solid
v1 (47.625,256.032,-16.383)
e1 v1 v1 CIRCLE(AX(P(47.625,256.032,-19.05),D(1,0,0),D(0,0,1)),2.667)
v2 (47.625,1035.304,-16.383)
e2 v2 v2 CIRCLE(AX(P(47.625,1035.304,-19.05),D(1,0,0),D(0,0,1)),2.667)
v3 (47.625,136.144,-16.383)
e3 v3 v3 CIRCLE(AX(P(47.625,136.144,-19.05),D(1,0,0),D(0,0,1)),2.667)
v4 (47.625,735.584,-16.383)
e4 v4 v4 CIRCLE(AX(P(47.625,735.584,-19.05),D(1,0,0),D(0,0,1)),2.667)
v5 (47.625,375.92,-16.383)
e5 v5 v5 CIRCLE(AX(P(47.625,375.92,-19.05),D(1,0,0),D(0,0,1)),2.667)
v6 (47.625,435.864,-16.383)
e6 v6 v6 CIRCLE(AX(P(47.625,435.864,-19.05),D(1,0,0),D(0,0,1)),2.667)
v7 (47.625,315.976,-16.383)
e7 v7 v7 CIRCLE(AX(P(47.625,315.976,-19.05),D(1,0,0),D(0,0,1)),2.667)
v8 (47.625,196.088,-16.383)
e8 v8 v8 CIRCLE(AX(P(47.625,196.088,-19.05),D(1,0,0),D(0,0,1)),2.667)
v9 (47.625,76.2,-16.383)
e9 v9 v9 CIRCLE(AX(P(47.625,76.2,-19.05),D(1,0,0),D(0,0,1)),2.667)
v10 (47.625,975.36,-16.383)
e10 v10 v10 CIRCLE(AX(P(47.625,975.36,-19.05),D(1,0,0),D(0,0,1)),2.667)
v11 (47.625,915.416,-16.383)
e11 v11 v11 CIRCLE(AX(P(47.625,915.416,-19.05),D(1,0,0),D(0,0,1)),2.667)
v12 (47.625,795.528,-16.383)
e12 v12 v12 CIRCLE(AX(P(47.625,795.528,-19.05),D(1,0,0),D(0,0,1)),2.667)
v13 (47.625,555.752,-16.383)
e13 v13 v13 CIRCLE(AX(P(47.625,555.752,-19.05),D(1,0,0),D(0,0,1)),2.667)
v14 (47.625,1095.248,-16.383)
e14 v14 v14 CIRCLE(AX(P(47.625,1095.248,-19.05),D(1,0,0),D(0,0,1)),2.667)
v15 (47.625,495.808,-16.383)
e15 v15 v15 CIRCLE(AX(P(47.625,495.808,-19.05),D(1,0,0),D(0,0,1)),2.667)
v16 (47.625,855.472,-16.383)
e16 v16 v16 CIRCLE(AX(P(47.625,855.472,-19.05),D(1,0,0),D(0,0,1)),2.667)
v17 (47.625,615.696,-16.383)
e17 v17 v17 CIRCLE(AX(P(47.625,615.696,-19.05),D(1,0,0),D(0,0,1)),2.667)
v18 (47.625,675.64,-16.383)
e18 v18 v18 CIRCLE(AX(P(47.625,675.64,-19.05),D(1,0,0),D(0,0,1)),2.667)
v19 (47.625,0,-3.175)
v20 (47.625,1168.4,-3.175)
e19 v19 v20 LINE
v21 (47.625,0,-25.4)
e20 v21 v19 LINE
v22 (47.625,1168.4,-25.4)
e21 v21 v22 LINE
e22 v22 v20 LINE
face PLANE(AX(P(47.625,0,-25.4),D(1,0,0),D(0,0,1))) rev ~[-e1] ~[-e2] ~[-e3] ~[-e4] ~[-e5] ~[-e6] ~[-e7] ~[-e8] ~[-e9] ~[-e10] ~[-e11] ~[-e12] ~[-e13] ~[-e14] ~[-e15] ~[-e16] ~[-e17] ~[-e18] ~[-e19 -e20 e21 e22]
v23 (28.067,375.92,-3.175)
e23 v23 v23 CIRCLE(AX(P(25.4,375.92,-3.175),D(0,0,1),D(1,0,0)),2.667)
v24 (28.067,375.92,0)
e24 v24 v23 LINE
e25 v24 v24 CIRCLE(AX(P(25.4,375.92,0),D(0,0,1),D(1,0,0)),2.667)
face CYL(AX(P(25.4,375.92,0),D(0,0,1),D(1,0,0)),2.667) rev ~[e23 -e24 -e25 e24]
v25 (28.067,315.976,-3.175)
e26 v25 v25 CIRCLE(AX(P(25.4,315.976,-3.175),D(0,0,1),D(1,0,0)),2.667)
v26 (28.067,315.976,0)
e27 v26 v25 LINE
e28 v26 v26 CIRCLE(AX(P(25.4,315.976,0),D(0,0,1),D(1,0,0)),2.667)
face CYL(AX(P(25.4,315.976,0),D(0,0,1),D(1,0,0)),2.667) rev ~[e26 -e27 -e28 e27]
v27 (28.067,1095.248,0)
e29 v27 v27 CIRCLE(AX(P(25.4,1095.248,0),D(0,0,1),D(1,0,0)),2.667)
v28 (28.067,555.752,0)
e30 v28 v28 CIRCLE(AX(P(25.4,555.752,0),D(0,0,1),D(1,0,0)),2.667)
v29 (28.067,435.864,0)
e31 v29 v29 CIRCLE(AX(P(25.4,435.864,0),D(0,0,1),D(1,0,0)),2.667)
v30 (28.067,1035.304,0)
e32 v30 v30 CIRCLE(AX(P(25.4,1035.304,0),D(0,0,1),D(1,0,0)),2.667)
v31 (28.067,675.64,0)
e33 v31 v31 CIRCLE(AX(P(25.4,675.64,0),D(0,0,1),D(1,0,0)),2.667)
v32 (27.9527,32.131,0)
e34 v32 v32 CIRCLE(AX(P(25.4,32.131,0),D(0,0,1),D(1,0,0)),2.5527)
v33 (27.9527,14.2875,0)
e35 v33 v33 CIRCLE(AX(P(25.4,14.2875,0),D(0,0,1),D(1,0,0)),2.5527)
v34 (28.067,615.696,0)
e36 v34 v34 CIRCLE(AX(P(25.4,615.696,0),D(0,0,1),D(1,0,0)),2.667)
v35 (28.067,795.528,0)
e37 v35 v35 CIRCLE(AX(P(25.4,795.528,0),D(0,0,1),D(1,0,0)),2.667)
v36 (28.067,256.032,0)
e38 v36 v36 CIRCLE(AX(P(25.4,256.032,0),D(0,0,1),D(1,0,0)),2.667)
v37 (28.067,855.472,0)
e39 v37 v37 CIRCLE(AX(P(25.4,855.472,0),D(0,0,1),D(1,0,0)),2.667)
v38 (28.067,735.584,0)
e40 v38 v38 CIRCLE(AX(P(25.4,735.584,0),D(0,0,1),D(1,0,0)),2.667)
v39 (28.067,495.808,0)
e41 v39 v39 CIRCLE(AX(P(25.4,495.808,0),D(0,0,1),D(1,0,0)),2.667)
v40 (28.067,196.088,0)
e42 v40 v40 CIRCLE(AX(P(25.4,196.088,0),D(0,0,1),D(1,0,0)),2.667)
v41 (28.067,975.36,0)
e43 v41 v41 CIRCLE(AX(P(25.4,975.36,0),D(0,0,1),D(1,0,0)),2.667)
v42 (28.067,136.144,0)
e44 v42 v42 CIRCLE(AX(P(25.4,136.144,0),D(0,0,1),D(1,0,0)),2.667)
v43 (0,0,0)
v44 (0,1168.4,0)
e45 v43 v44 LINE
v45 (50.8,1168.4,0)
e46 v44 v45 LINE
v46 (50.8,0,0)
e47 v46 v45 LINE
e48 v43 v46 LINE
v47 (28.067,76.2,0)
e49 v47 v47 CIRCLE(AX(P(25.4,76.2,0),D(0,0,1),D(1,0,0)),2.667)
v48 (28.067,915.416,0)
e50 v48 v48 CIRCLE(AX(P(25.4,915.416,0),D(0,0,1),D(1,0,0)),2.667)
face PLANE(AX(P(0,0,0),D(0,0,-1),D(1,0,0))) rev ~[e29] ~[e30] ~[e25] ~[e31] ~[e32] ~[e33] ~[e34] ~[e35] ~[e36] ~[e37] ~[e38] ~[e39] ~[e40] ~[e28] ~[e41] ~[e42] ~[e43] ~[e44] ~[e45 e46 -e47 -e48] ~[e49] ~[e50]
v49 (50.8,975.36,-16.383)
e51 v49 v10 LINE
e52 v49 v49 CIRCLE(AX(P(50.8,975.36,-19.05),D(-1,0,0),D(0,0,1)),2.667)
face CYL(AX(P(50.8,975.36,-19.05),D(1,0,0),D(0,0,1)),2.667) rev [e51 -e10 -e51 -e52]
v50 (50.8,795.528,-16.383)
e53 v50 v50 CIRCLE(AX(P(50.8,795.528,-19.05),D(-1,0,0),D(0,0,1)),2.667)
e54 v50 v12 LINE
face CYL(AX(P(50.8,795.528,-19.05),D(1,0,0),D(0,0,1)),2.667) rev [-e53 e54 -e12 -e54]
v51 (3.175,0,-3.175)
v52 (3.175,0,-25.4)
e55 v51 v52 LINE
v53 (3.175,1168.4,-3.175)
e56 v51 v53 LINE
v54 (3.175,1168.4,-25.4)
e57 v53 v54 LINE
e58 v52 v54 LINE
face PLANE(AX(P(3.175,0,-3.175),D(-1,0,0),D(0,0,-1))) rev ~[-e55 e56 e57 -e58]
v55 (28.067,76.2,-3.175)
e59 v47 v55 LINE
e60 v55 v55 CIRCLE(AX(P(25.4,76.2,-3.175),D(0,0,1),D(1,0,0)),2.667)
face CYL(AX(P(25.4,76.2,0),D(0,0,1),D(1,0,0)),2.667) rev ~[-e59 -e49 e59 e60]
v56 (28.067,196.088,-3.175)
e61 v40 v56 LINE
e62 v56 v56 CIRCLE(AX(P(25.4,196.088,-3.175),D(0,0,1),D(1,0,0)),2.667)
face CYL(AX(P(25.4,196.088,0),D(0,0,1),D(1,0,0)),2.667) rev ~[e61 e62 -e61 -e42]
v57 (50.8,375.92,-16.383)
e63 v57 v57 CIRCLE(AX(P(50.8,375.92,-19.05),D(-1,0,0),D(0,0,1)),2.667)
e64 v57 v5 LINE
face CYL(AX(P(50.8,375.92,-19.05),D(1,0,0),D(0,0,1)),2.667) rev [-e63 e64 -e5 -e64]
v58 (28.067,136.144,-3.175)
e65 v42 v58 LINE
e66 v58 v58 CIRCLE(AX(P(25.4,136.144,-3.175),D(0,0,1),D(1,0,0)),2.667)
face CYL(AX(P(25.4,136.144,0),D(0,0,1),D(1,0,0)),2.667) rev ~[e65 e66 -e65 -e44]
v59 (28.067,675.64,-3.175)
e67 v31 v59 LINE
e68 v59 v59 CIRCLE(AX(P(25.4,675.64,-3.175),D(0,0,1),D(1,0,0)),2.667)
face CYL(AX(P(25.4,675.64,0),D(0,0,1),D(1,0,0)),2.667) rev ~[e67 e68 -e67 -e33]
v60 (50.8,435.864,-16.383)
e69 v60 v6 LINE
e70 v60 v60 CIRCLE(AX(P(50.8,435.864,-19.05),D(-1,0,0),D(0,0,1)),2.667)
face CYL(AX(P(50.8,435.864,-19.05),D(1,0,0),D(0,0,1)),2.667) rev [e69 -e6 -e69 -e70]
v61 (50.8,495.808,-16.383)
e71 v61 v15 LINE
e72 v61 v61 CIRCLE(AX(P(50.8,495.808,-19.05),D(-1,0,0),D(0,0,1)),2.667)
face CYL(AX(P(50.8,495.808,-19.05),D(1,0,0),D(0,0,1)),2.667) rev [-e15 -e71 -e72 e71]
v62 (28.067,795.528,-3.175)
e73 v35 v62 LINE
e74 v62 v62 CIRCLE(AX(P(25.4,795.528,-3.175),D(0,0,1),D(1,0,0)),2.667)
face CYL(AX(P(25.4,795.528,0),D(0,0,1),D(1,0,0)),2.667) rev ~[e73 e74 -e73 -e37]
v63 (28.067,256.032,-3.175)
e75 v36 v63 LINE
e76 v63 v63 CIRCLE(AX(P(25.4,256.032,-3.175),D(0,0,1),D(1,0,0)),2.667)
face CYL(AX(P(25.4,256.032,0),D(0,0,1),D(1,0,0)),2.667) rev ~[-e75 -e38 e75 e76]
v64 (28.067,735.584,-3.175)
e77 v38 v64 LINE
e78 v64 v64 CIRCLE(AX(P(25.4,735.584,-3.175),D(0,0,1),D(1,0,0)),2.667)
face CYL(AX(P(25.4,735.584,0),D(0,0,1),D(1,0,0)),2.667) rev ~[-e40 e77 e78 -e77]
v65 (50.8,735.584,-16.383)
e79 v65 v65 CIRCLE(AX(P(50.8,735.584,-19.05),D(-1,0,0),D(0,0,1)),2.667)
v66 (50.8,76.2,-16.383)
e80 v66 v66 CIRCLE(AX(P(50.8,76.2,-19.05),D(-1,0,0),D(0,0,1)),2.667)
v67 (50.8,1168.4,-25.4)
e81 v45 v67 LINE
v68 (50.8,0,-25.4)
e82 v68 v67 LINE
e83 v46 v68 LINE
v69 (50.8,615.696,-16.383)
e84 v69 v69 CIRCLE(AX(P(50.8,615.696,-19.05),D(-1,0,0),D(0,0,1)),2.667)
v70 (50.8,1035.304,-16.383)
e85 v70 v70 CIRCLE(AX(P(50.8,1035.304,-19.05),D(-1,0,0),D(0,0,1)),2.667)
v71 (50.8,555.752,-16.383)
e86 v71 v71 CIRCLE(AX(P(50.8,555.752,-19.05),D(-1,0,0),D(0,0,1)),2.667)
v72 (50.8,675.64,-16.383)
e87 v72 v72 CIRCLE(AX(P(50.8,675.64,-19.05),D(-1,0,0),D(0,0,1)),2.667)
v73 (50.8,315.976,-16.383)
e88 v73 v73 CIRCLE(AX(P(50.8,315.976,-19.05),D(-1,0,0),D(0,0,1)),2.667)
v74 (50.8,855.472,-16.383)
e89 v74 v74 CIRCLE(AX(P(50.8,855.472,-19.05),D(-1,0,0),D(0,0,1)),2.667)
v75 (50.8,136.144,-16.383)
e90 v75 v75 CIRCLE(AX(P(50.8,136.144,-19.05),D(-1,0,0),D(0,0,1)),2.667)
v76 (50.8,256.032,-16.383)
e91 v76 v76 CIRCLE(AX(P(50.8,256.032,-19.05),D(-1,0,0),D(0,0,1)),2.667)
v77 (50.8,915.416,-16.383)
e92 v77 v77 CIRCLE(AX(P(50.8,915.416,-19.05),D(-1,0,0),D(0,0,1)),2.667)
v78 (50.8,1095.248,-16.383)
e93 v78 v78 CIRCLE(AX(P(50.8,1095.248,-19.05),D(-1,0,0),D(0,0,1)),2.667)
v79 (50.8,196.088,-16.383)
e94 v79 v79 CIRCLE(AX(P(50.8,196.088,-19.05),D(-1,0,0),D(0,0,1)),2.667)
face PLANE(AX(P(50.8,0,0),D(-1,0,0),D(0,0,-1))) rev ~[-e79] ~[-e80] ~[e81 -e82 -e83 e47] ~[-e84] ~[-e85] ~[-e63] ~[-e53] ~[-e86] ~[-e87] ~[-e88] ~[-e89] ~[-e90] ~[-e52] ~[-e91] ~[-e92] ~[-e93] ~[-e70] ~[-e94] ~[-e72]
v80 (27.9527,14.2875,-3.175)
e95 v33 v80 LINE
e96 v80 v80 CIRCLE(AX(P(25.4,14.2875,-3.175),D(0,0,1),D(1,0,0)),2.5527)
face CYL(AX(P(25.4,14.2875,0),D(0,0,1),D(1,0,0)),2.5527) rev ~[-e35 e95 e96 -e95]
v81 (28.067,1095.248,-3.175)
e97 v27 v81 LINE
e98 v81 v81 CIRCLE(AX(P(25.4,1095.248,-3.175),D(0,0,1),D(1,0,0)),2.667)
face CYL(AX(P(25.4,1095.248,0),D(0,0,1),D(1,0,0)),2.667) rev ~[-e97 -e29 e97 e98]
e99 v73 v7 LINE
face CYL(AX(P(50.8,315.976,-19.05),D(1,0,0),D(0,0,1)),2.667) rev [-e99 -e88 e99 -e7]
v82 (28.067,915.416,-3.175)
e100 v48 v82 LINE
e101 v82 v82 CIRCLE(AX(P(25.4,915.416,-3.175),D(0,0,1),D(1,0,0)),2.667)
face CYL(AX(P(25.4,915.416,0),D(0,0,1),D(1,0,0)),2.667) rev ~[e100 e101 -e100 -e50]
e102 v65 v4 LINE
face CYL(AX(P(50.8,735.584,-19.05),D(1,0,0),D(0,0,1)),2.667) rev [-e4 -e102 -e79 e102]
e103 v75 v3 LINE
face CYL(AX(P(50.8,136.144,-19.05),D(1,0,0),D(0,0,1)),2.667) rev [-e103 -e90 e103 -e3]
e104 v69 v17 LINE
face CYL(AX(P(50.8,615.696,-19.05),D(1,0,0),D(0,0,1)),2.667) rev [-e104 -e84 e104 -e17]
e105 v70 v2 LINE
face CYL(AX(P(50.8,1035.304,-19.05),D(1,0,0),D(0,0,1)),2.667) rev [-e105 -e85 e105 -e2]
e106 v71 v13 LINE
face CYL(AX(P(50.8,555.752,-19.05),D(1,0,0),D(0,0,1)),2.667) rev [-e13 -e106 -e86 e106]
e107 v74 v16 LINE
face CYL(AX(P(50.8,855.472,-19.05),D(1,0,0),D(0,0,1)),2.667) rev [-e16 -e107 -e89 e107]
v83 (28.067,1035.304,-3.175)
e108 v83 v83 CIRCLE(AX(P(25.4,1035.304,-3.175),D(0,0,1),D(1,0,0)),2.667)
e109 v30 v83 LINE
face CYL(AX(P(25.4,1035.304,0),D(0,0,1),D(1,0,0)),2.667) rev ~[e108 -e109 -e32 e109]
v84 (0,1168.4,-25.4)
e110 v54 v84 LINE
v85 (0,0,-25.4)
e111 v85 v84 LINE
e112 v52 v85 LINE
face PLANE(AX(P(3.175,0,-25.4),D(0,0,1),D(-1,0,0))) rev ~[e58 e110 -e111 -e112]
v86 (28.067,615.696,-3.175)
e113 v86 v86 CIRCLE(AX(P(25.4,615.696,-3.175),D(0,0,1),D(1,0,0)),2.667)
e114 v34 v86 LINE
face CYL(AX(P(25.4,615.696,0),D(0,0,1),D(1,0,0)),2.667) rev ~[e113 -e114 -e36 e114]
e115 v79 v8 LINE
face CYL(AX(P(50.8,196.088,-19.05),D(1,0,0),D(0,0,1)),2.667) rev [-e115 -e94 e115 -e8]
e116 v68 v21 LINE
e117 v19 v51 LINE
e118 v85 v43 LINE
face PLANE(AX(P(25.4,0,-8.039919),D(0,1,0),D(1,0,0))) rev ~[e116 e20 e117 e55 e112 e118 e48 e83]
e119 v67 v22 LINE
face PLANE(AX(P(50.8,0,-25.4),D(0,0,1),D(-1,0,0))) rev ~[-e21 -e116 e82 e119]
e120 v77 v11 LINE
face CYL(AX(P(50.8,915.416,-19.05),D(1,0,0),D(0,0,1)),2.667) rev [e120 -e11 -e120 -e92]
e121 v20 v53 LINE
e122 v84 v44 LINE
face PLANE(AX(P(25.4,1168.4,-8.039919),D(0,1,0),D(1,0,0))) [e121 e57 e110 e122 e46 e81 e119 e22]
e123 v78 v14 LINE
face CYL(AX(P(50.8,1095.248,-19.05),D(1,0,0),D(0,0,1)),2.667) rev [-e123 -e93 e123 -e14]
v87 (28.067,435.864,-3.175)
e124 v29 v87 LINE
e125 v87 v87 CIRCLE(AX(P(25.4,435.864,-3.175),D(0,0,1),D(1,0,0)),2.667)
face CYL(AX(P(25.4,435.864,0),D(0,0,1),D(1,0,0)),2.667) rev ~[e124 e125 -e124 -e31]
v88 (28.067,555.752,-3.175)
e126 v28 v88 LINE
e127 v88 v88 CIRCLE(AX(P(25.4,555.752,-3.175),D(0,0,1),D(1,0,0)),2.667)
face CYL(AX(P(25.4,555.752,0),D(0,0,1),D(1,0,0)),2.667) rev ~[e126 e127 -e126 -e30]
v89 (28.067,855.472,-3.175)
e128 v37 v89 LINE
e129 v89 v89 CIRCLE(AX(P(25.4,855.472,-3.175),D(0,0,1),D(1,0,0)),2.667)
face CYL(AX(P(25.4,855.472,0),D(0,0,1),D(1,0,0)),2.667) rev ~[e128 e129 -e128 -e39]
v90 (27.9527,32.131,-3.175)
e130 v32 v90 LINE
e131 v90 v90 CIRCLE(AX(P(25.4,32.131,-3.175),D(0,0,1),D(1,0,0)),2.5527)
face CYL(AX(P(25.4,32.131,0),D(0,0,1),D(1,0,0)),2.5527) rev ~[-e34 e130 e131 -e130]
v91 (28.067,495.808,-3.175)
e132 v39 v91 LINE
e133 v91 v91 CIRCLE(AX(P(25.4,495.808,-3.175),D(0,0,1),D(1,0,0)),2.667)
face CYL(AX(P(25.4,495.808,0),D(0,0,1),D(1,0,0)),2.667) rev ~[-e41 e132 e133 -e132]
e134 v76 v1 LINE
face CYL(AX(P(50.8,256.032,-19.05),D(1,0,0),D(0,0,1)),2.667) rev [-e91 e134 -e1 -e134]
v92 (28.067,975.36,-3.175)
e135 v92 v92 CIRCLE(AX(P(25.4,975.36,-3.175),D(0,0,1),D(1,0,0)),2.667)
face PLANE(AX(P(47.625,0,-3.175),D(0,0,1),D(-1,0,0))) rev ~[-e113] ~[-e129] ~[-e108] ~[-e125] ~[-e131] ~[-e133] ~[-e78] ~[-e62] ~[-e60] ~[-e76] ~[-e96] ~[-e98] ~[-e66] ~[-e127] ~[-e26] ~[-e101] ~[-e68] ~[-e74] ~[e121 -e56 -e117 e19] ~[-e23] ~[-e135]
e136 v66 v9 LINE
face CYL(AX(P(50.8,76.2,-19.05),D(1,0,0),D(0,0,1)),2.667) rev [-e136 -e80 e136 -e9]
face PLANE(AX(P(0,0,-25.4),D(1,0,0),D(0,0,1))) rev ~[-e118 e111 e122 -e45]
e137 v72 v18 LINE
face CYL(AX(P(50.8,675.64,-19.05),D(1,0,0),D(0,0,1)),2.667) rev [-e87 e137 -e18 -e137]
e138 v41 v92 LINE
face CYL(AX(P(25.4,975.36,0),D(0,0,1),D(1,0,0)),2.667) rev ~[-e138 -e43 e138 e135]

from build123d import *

# Parameters (mm, degrees)
BOSS_EXTRUDE1_DEPTH = 1168.4
CUT_EXTRUDE1_REACH  = 27.4
SKETCH2_R           = 2.667
CUT_EXTRUDE2_REACH  = 27.4
SKETCH3_R           = 2.5527
CUT_EXTRUDE3_REACH  = 52.8
SKETCH4_R           = 2.667


with BuildPart() as part:
    # Sketch1 → Boss-Extrude1 (new body)
    with BuildSketch(Plane(origin=(0, 0, 0), x_dir=(1, 0, 0), z_dir=(0, 1, 0))):
        Polygon((3.175, 3.175), (3.175, 25.4), (0, 25.4), (0, 0), (50.8, 0), (50.8, 25.4), (47.625, 25.4), (47.625, 3.175), align=None)
    extrude(amount=BOSS_EXTRUDE1_DEPTH)

    # Sketch2 → Cut-Extrude1 (cut, up to next)
    with BuildSketch(Plane.XY, mode=Mode.PRIVATE) as cut_extrude1_sk1:
        with Locations((25.4, 76.2)):
            Circle(SKETCH2_R)
    cut_extrude1_tool1 = extrude(cut_extrude1_sk1.sketch, amount=-CUT_EXTRUDE1_REACH, mode=Mode.PRIVATE) & part.part
    add(cut_extrude1_tool1.solids().sort_by_distance((25.4, 76.2, 0))[0], mode=Mode.SUBTRACT)
    # Sketch2 → Cut-Extrude1 (cut, up to next)
    with BuildSketch(Plane.XY, mode=Mode.PRIVATE) as cut_extrude1_sk2:
        with Locations((25.4, 136.144)):
            Circle(SKETCH2_R)
    cut_extrude1_tool2 = extrude(cut_extrude1_sk2.sketch, amount=-CUT_EXTRUDE1_REACH, mode=Mode.PRIVATE) & part.part
    add(cut_extrude1_tool2.solids().sort_by_distance((25.4, 136.144, 0))[0], mode=Mode.SUBTRACT)
    # Sketch2 → Cut-Extrude1 (cut, up to next)
    with BuildSketch(Plane.XY, mode=Mode.PRIVATE) as cut_extrude1_sk3:
        with Locations((25.4, 196.088)):
            Circle(SKETCH2_R)
    cut_extrude1_tool3 = extrude(cut_extrude1_sk3.sketch, amount=-CUT_EXTRUDE1_REACH, mode=Mode.PRIVATE) & part.part
    add(cut_extrude1_tool3.solids().sort_by_distance((25.4, 196.088, 0))[0], mode=Mode.SUBTRACT)
    # Sketch2 → Cut-Extrude1 (cut, up to next)
    with BuildSketch(Plane.XY, mode=Mode.PRIVATE) as cut_extrude1_sk4:
        with Locations((25.4, 256.032)):
            Circle(SKETCH2_R)
    cut_extrude1_tool4 = extrude(cut_extrude1_sk4.sketch, amount=-CUT_EXTRUDE1_REACH, mode=Mode.PRIVATE) & part.part
    add(cut_extrude1_tool4.solids().sort_by_distance((25.4, 256.032, 0))[0], mode=Mode.SUBTRACT)
    # Sketch2 → Cut-Extrude1 (cut, up to next)
    with BuildSketch(Plane.XY, mode=Mode.PRIVATE) as cut_extrude1_sk5:
        with Locations((25.4, 315.976)):
            Circle(SKETCH2_R)
    cut_extrude1_tool5 = extrude(cut_extrude1_sk5.sketch, amount=-CUT_EXTRUDE1_REACH, mode=Mode.PRIVATE) & part.part
    add(cut_extrude1_tool5.solids().sort_by_distance((25.4, 315.976, 0))[0], mode=Mode.SUBTRACT)
    # Sketch2 → Cut-Extrude1 (cut, up to next)
    with BuildSketch(Plane.XY, mode=Mode.PRIVATE) as cut_extrude1_sk6:
        with Locations((25.4, 375.92)):
            Circle(SKETCH2_R)
    cut_extrude1_tool6 = extrude(cut_extrude1_sk6.sketch, amount=-CUT_EXTRUDE1_REACH, mode=Mode.PRIVATE) & part.part
    add(cut_extrude1_tool6.solids().sort_by_distance((25.4, 375.92, 0))[0], mode=Mode.SUBTRACT)
    # Sketch2 → Cut-Extrude1 (cut, up to next)
    with BuildSketch(Plane.XY, mode=Mode.PRIVATE) as cut_extrude1_sk7:
        with Locations((25.4, 435.864)):
            Circle(SKETCH2_R)
    cut_extrude1_tool7 = extrude(cut_extrude1_sk7.sketch, amount=-CUT_EXTRUDE1_REACH, mode=Mode.PRIVATE) & part.part
    add(cut_extrude1_tool7.solids().sort_by_distance((25.4, 435.864, 0))[0], mode=Mode.SUBTRACT)
    # Sketch2 → Cut-Extrude1 (cut, up to next)
    with BuildSketch(Plane.XY, mode=Mode.PRIVATE) as cut_extrude1_sk8:
        with Locations((25.4, 495.808)):
            Circle(SKETCH2_R)
    cut_extrude1_tool8 = extrude(cut_extrude1_sk8.sketch, amount=-CUT_EXTRUDE1_REACH, mode=Mode.PRIVATE) & part.part
    add(cut_extrude1_tool8.solids().sort_by_distance((25.4, 495.808, 0))[0], mode=Mode.SUBTRACT)
    # Sketch2 → Cut-Extrude1 (cut, up to next)
    with BuildSketch(Plane.XY, mode=Mode.PRIVATE) as cut_extrude1_sk9:
        with Locations((25.4, 555.752)):
            Circle(SKETCH2_R)
    cut_extrude1_tool9 = extrude(cut_extrude1_sk9.sketch, amount=-CUT_EXTRUDE1_REACH, mode=Mode.PRIVATE) & part.part
    add(cut_extrude1_tool9.solids().sort_by_distance((25.4, 555.752, 0))[0], mode=Mode.SUBTRACT)
    # Sketch2 → Cut-Extrude1 (cut, up to next)
    with BuildSketch(Plane.XY, mode=Mode.PRIVATE) as cut_extrude1_sk10:
        with Locations((25.4, 615.696)):
            Circle(SKETCH2_R)
    cut_extrude1_tool10 = extrude(cut_extrude1_sk10.sketch, amount=-CUT_EXTRUDE1_REACH, mode=Mode.PRIVATE) & part.part
    add(cut_extrude1_tool10.solids().sort_by_distance((25.4, 615.696, 0))[0], mode=Mode.SUBTRACT)
    # Sketch2 → Cut-Extrude1 (cut, up to next)
    with BuildSketch(Plane.XY, mode=Mode.PRIVATE) as cut_extrude1_sk11:
        with Locations((25.4, 675.64)):
            Circle(SKETCH2_R)
    cut_extrude1_tool11 = extrude(cut_extrude1_sk11.sketch, amount=-CUT_EXTRUDE1_REACH, mode=Mode.PRIVATE) & part.part
    add(cut_extrude1_tool11.solids().sort_by_distance((25.4, 675.64, 0))[0], mode=Mode.SUBTRACT)
    # Sketch2 → Cut-Extrude1 (cut, up to next)
    with BuildSketch(Plane.XY, mode=Mode.PRIVATE) as cut_extrude1_sk12:
        with Locations((25.4, 735.584)):
            Circle(SKETCH2_R)
    cut_extrude1_tool12 = extrude(cut_extrude1_sk12.sketch, amount=-CUT_EXTRUDE1_REACH, mode=Mode.PRIVATE) & part.part
    add(cut_extrude1_tool12.solids().sort_by_distance((25.4, 735.584, 0))[0], mode=Mode.SUBTRACT)
    # Sketch2 → Cut-Extrude1 (cut, up to next)
    with BuildSketch(Plane.XY, mode=Mode.PRIVATE) as cut_extrude1_sk13:
        with Locations((25.4, 795.528)):
            Circle(SKETCH2_R)
    cut_extrude1_tool13 = extrude(cut_extrude1_sk13.sketch, amount=-CUT_EXTRUDE1_REACH, mode=Mode.PRIVATE) & part.part
    add(cut_extrude1_tool13.solids().sort_by_distance((25.4, 795.528, 0))[0], mode=Mode.SUBTRACT)
    # Sketch2 → Cut-Extrude1 (cut, up to next)
    with BuildSketch(Plane.XY, mode=Mode.PRIVATE) as cut_extrude1_sk14:
        with Locations((25.4, 855.472)):
            Circle(SKETCH2_R)
    cut_extrude1_tool14 = extrude(cut_extrude1_sk14.sketch, amount=-CUT_EXTRUDE1_REACH, mode=Mode.PRIVATE) & part.part
    add(cut_extrude1_tool14.solids().sort_by_distance((25.4, 855.472, 0))[0], mode=Mode.SUBTRACT)
    # Sketch2 → Cut-Extrude1 (cut, up to next)
    with BuildSketch(Plane.XY, mode=Mode.PRIVATE) as cut_extrude1_sk15:
        with Locations((25.4, 915.416)):
            Circle(SKETCH2_R)
    cut_extrude1_tool15 = extrude(cut_extrude1_sk15.sketch, amount=-CUT_EXTRUDE1_REACH, mode=Mode.PRIVATE) & part.part
    add(cut_extrude1_tool15.solids().sort_by_distance((25.4, 915.416, 0))[0], mode=Mode.SUBTRACT)
    # Sketch2 → Cut-Extrude1 (cut, up to next)
    with BuildSketch(Plane.XY, mode=Mode.PRIVATE) as cut_extrude1_sk16:
        with Locations((25.4, 975.36)):
            Circle(SKETCH2_R)
    cut_extrude1_tool16 = extrude(cut_extrude1_sk16.sketch, amount=-CUT_EXTRUDE1_REACH, mode=Mode.PRIVATE) & part.part
    add(cut_extrude1_tool16.solids().sort_by_distance((25.4, 975.36, 0))[0], mode=Mode.SUBTRACT)
    # Sketch2 → Cut-Extrude1 (cut, up to next)
    with BuildSketch(Plane.XY, mode=Mode.PRIVATE) as cut_extrude1_sk17:
        with Locations((25.4, 1035.304)):
            Circle(SKETCH2_R)
    cut_extrude1_tool17 = extrude(cut_extrude1_sk17.sketch, amount=-CUT_EXTRUDE1_REACH, mode=Mode.PRIVATE) & part.part
    add(cut_extrude1_tool17.solids().sort_by_distance((25.4, 1035.304, 0))[0], mode=Mode.SUBTRACT)
    # Sketch2 → Cut-Extrude1 (cut, up to next)
    with BuildSketch(Plane.XY, mode=Mode.PRIVATE) as cut_extrude1_sk18:
        with Locations((25.4, 1095.248)):
            Circle(SKETCH2_R)
    cut_extrude1_tool18 = extrude(cut_extrude1_sk18.sketch, amount=-CUT_EXTRUDE1_REACH, mode=Mode.PRIVATE) & part.part
    add(cut_extrude1_tool18.solids().sort_by_distance((25.4, 1095.248, 0))[0], mode=Mode.SUBTRACT)

    # Sketch3 → Cut-Extrude2 (cut, up to next)
    with BuildSketch(Plane.XY, mode=Mode.PRIVATE) as cut_extrude2_sk1:
        with Locations((25.4, 32.131)):
            Circle(SKETCH3_R)
    cut_extrude2_tool1 = extrude(cut_extrude2_sk1.sketch, amount=-CUT_EXTRUDE2_REACH, mode=Mode.PRIVATE) & part.part
    add(cut_extrude2_tool1.solids().sort_by_distance((25.4, 32.131, 0))[0], mode=Mode.SUBTRACT)
    # Sketch3 → Cut-Extrude2 (cut, up to next)
    with BuildSketch(Plane.XY, mode=Mode.PRIVATE) as cut_extrude2_sk2:
        with Locations((25.4, 14.2875)):
            Circle(SKETCH3_R)
    cut_extrude2_tool2 = extrude(cut_extrude2_sk2.sketch, amount=-CUT_EXTRUDE2_REACH, mode=Mode.PRIVATE) & part.part
    add(cut_extrude2_tool2.solids().sort_by_distance((25.4, 14.2875, 0))[0], mode=Mode.SUBTRACT)

    # Sketch4 → Cut-Extrude3 (cut, up to next)
    with BuildSketch(Plane.ZY.offset(-50.8), mode=Mode.PRIVATE) as cut_extrude3_sk1:
        with Locations((-19.05, 76.2)):
            Circle(SKETCH4_R)
    cut_extrude3_tool1 = extrude(cut_extrude3_sk1.sketch, amount=CUT_EXTRUDE3_REACH, mode=Mode.PRIVATE) & part.part
    add(cut_extrude3_tool1.solids().sort_by_distance((50.8, 76.2, -19.05))[0], mode=Mode.SUBTRACT)
    # Sketch4 → Cut-Extrude3 (cut, up to next)
    with BuildSketch(Plane.ZY.offset(-50.8), mode=Mode.PRIVATE) as cut_extrude3_sk2:
        with Locations((-19.05, 136.144)):
            Circle(SKETCH4_R)
    cut_extrude3_tool2 = extrude(cut_extrude3_sk2.sketch, amount=CUT_EXTRUDE3_REACH, mode=Mode.PRIVATE) & part.part
    add(cut_extrude3_tool2.solids().sort_by_distance((50.8, 136.144, -19.05))[0], mode=Mode.SUBTRACT)
    # Sketch4 → Cut-Extrude3 (cut, up to next)
    with BuildSketch(Plane.ZY.offset(-50.8), mode=Mode.PRIVATE) as cut_extrude3_sk3:
        with Locations((-19.05, 196.088)):
            Circle(SKETCH4_R)
    cut_extrude3_tool3 = extrude(cut_extrude3_sk3.sketch, amount=CUT_EXTRUDE3_REACH, mode=Mode.PRIVATE) & part.part
    add(cut_extrude3_tool3.solids().sort_by_distance((50.8, 196.088, -19.05))[0], mode=Mode.SUBTRACT)
    # Sketch4 → Cut-Extrude3 (cut, up to next)
    with BuildSketch(Plane.ZY.offset(-50.8), mode=Mode.PRIVATE) as cut_extrude3_sk4:
        with Locations((-19.05, 256.032)):
            Circle(SKETCH4_R)
    cut_extrude3_tool4 = extrude(cut_extrude3_sk4.sketch, amount=CUT_EXTRUDE3_REACH, mode=Mode.PRIVATE) & part.part
    add(cut_extrude3_tool4.solids().sort_by_distance((50.8, 256.032, -19.05))[0], mode=Mode.SUBTRACT)
    # Sketch4 → Cut-Extrude3 (cut, up to next)
    with BuildSketch(Plane.ZY.offset(-50.8), mode=Mode.PRIVATE) as cut_extrude3_sk5:
        with Locations((-19.05, 315.976)):
            Circle(SKETCH4_R)
    cut_extrude3_tool5 = extrude(cut_extrude3_sk5.sketch, amount=CUT_EXTRUDE3_REACH, mode=Mode.PRIVATE) & part.part
    add(cut_extrude3_tool5.solids().sort_by_distance((50.8, 315.976, -19.05))[0], mode=Mode.SUBTRACT)
    # Sketch4 → Cut-Extrude3 (cut, up to next)
    with BuildSketch(Plane.ZY.offset(-50.8), mode=Mode.PRIVATE) as cut_extrude3_sk6:
        with Locations((-19.05, 375.92)):
            Circle(SKETCH4_R)
    cut_extrude3_tool6 = extrude(cut_extrude3_sk6.sketch, amount=CUT_EXTRUDE3_REACH, mode=Mode.PRIVATE) & part.part
    add(cut_extrude3_tool6.solids().sort_by_distance((50.8, 375.92, -19.05))[0], mode=Mode.SUBTRACT)
    # Sketch4 → Cut-Extrude3 (cut, up to next)
    with BuildSketch(Plane.ZY.offset(-50.8), mode=Mode.PRIVATE) as cut_extrude3_sk7:
        with Locations((-19.05, 435.864)):
            Circle(SKETCH4_R)
    cut_extrude3_tool7 = extrude(cut_extrude3_sk7.sketch, amount=CUT_EXTRUDE3_REACH, mode=Mode.PRIVATE) & part.part
    add(cut_extrude3_tool7.solids().sort_by_distance((50.8, 435.864, -19.05))[0], mode=Mode.SUBTRACT)
    # Sketch4 → Cut-Extrude3 (cut, up to next)
    with BuildSketch(Plane.ZY.offset(-50.8), mode=Mode.PRIVATE) as cut_extrude3_sk8:
        with Locations((-19.05, 495.808)):
            Circle(SKETCH4_R)
    cut_extrude3_tool8 = extrude(cut_extrude3_sk8.sketch, amount=CUT_EXTRUDE3_REACH, mode=Mode.PRIVATE) & part.part
    add(cut_extrude3_tool8.solids().sort_by_distance((50.8, 495.808, -19.05))[0], mode=Mode.SUBTRACT)
    # Sketch4 → Cut-Extrude3 (cut, up to next)
    with BuildSketch(Plane.ZY.offset(-50.8), mode=Mode.PRIVATE) as cut_extrude3_sk9:
        with Locations((-19.05, 555.752)):
            Circle(SKETCH4_R)
    cut_extrude3_tool9 = extrude(cut_extrude3_sk9.sketch, amount=CUT_EXTRUDE3_REACH, mode=Mode.PRIVATE) & part.part
    add(cut_extrude3_tool9.solids().sort_by_distance((50.8, 555.752, -19.05))[0], mode=Mode.SUBTRACT)
    # Sketch4 → Cut-Extrude3 (cut, up to next)
    with BuildSketch(Plane.ZY.offset(-50.8), mode=Mode.PRIVATE) as cut_extrude3_sk10:
        with Locations((-19.05, 615.696)):
            Circle(SKETCH4_R)
    cut_extrude3_tool10 = extrude(cut_extrude3_sk10.sketch, amount=CUT_EXTRUDE3_REACH, mode=Mode.PRIVATE) & part.part
    add(cut_extrude3_tool10.solids().sort_by_distance((50.8, 615.696, -19.05))[0], mode=Mode.SUBTRACT)
    # Sketch4 → Cut-Extrude3 (cut, up to next)
    with BuildSketch(Plane.ZY.offset(-50.8), mode=Mode.PRIVATE) as cut_extrude3_sk11:
        with Locations((-19.05, 675.64)):
            Circle(SKETCH4_R)
    cut_extrude3_tool11 = extrude(cut_extrude3_sk11.sketch, amount=CUT_EXTRUDE3_REACH, mode=Mode.PRIVATE) & part.part
    add(cut_extrude3_tool11.solids().sort_by_distance((50.8, 675.64, -19.05))[0], mode=Mode.SUBTRACT)
    # Sketch4 → Cut-Extrude3 (cut, up to next)
    with BuildSketch(Plane.ZY.offset(-50.8), mode=Mode.PRIVATE) as cut_extrude3_sk12:
        with Locations((-19.05, 735.584)):
            Circle(SKETCH4_R)
    cut_extrude3_tool12 = extrude(cut_extrude3_sk12.sketch, amount=CUT_EXTRUDE3_REACH, mode=Mode.PRIVATE) & part.part
    add(cut_extrude3_tool12.solids().sort_by_distance((50.8, 735.584, -19.05))[0], mode=Mode.SUBTRACT)
    # Sketch4 → Cut-Extrude3 (cut, up to next)
    with BuildSketch(Plane.ZY.offset(-50.8), mode=Mode.PRIVATE) as cut_extrude3_sk13:
        with Locations((-19.05, 795.528)):
            Circle(SKETCH4_R)
    cut_extrude3_tool13 = extrude(cut_extrude3_sk13.sketch, amount=CUT_EXTRUDE3_REACH, mode=Mode.PRIVATE) & part.part
    add(cut_extrude3_tool13.solids().sort_by_distance((50.8, 795.528, -19.05))[0], mode=Mode.SUBTRACT)
    # Sketch4 → Cut-Extrude3 (cut, up to next)
    with BuildSketch(Plane.ZY.offset(-50.8), mode=Mode.PRIVATE) as cut_extrude3_sk14:
        with Locations((-19.05, 855.472)):
            Circle(SKETCH4_R)
    cut_extrude3_tool14 = extrude(cut_extrude3_sk14.sketch, amount=CUT_EXTRUDE3_REACH, mode=Mode.PRIVATE) & part.part
    add(cut_extrude3_tool14.solids().sort_by_distance((50.8, 855.472, -19.05))[0], mode=Mode.SUBTRACT)
    # Sketch4 → Cut-Extrude3 (cut, up to next)
    with BuildSketch(Plane.ZY.offset(-50.8), mode=Mode.PRIVATE) as cut_extrude3_sk15:
        with Locations((-19.05, 915.416)):
            Circle(SKETCH4_R)
    cut_extrude3_tool15 = extrude(cut_extrude3_sk15.sketch, amount=CUT_EXTRUDE3_REACH, mode=Mode.PRIVATE) & part.part
    add(cut_extrude3_tool15.solids().sort_by_distance((50.8, 915.416, -19.05))[0], mode=Mode.SUBTRACT)
    # Sketch4 → Cut-Extrude3 (cut, up to next)
    with BuildSketch(Plane.ZY.offset(-50.8), mode=Mode.PRIVATE) as cut_extrude3_sk16:
        with Locations((-19.05, 975.36)):
            Circle(SKETCH4_R)
    cut_extrude3_tool16 = extrude(cut_extrude3_sk16.sketch, amount=CUT_EXTRUDE3_REACH, mode=Mode.PRIVATE) & part.part
    add(cut_extrude3_tool16.solids().sort_by_distance((50.8, 975.36, -19.05))[0], mode=Mode.SUBTRACT)
    # Sketch4 → Cut-Extrude3 (cut, up to next)
    with BuildSketch(Plane.ZY.offset(-50.8), mode=Mode.PRIVATE) as cut_extrude3_sk17:
        with Locations((-19.05, 1035.304)):
            Circle(SKETCH4_R)
    cut_extrude3_tool17 = extrude(cut_extrude3_sk17.sketch, amount=CUT_EXTRUDE3_REACH, mode=Mode.PRIVATE) & part.part
    add(cut_extrude3_tool17.solids().sort_by_distance((50.8, 1035.304, -19.05))[0], mode=Mode.SUBTRACT)
    # Sketch4 → Cut-Extrude3 (cut, up to next)
    with BuildSketch(Plane.ZY.offset(-50.8), mode=Mode.PRIVATE) as cut_extrude3_sk18:
        with Locations((-19.05, 1095.248)):
            Circle(SKETCH4_R)
    cut_extrude3_tool18 = extrude(cut_extrude3_sk18.sketch, amount=CUT_EXTRUDE3_REACH, mode=Mode.PRIVATE) & part.part
    add(cut_extrude3_tool18.solids().sort_by_distance((50.8, 1095.248, -19.05))[0], mode=Mode.SUBTRACT)


solid = part.part
